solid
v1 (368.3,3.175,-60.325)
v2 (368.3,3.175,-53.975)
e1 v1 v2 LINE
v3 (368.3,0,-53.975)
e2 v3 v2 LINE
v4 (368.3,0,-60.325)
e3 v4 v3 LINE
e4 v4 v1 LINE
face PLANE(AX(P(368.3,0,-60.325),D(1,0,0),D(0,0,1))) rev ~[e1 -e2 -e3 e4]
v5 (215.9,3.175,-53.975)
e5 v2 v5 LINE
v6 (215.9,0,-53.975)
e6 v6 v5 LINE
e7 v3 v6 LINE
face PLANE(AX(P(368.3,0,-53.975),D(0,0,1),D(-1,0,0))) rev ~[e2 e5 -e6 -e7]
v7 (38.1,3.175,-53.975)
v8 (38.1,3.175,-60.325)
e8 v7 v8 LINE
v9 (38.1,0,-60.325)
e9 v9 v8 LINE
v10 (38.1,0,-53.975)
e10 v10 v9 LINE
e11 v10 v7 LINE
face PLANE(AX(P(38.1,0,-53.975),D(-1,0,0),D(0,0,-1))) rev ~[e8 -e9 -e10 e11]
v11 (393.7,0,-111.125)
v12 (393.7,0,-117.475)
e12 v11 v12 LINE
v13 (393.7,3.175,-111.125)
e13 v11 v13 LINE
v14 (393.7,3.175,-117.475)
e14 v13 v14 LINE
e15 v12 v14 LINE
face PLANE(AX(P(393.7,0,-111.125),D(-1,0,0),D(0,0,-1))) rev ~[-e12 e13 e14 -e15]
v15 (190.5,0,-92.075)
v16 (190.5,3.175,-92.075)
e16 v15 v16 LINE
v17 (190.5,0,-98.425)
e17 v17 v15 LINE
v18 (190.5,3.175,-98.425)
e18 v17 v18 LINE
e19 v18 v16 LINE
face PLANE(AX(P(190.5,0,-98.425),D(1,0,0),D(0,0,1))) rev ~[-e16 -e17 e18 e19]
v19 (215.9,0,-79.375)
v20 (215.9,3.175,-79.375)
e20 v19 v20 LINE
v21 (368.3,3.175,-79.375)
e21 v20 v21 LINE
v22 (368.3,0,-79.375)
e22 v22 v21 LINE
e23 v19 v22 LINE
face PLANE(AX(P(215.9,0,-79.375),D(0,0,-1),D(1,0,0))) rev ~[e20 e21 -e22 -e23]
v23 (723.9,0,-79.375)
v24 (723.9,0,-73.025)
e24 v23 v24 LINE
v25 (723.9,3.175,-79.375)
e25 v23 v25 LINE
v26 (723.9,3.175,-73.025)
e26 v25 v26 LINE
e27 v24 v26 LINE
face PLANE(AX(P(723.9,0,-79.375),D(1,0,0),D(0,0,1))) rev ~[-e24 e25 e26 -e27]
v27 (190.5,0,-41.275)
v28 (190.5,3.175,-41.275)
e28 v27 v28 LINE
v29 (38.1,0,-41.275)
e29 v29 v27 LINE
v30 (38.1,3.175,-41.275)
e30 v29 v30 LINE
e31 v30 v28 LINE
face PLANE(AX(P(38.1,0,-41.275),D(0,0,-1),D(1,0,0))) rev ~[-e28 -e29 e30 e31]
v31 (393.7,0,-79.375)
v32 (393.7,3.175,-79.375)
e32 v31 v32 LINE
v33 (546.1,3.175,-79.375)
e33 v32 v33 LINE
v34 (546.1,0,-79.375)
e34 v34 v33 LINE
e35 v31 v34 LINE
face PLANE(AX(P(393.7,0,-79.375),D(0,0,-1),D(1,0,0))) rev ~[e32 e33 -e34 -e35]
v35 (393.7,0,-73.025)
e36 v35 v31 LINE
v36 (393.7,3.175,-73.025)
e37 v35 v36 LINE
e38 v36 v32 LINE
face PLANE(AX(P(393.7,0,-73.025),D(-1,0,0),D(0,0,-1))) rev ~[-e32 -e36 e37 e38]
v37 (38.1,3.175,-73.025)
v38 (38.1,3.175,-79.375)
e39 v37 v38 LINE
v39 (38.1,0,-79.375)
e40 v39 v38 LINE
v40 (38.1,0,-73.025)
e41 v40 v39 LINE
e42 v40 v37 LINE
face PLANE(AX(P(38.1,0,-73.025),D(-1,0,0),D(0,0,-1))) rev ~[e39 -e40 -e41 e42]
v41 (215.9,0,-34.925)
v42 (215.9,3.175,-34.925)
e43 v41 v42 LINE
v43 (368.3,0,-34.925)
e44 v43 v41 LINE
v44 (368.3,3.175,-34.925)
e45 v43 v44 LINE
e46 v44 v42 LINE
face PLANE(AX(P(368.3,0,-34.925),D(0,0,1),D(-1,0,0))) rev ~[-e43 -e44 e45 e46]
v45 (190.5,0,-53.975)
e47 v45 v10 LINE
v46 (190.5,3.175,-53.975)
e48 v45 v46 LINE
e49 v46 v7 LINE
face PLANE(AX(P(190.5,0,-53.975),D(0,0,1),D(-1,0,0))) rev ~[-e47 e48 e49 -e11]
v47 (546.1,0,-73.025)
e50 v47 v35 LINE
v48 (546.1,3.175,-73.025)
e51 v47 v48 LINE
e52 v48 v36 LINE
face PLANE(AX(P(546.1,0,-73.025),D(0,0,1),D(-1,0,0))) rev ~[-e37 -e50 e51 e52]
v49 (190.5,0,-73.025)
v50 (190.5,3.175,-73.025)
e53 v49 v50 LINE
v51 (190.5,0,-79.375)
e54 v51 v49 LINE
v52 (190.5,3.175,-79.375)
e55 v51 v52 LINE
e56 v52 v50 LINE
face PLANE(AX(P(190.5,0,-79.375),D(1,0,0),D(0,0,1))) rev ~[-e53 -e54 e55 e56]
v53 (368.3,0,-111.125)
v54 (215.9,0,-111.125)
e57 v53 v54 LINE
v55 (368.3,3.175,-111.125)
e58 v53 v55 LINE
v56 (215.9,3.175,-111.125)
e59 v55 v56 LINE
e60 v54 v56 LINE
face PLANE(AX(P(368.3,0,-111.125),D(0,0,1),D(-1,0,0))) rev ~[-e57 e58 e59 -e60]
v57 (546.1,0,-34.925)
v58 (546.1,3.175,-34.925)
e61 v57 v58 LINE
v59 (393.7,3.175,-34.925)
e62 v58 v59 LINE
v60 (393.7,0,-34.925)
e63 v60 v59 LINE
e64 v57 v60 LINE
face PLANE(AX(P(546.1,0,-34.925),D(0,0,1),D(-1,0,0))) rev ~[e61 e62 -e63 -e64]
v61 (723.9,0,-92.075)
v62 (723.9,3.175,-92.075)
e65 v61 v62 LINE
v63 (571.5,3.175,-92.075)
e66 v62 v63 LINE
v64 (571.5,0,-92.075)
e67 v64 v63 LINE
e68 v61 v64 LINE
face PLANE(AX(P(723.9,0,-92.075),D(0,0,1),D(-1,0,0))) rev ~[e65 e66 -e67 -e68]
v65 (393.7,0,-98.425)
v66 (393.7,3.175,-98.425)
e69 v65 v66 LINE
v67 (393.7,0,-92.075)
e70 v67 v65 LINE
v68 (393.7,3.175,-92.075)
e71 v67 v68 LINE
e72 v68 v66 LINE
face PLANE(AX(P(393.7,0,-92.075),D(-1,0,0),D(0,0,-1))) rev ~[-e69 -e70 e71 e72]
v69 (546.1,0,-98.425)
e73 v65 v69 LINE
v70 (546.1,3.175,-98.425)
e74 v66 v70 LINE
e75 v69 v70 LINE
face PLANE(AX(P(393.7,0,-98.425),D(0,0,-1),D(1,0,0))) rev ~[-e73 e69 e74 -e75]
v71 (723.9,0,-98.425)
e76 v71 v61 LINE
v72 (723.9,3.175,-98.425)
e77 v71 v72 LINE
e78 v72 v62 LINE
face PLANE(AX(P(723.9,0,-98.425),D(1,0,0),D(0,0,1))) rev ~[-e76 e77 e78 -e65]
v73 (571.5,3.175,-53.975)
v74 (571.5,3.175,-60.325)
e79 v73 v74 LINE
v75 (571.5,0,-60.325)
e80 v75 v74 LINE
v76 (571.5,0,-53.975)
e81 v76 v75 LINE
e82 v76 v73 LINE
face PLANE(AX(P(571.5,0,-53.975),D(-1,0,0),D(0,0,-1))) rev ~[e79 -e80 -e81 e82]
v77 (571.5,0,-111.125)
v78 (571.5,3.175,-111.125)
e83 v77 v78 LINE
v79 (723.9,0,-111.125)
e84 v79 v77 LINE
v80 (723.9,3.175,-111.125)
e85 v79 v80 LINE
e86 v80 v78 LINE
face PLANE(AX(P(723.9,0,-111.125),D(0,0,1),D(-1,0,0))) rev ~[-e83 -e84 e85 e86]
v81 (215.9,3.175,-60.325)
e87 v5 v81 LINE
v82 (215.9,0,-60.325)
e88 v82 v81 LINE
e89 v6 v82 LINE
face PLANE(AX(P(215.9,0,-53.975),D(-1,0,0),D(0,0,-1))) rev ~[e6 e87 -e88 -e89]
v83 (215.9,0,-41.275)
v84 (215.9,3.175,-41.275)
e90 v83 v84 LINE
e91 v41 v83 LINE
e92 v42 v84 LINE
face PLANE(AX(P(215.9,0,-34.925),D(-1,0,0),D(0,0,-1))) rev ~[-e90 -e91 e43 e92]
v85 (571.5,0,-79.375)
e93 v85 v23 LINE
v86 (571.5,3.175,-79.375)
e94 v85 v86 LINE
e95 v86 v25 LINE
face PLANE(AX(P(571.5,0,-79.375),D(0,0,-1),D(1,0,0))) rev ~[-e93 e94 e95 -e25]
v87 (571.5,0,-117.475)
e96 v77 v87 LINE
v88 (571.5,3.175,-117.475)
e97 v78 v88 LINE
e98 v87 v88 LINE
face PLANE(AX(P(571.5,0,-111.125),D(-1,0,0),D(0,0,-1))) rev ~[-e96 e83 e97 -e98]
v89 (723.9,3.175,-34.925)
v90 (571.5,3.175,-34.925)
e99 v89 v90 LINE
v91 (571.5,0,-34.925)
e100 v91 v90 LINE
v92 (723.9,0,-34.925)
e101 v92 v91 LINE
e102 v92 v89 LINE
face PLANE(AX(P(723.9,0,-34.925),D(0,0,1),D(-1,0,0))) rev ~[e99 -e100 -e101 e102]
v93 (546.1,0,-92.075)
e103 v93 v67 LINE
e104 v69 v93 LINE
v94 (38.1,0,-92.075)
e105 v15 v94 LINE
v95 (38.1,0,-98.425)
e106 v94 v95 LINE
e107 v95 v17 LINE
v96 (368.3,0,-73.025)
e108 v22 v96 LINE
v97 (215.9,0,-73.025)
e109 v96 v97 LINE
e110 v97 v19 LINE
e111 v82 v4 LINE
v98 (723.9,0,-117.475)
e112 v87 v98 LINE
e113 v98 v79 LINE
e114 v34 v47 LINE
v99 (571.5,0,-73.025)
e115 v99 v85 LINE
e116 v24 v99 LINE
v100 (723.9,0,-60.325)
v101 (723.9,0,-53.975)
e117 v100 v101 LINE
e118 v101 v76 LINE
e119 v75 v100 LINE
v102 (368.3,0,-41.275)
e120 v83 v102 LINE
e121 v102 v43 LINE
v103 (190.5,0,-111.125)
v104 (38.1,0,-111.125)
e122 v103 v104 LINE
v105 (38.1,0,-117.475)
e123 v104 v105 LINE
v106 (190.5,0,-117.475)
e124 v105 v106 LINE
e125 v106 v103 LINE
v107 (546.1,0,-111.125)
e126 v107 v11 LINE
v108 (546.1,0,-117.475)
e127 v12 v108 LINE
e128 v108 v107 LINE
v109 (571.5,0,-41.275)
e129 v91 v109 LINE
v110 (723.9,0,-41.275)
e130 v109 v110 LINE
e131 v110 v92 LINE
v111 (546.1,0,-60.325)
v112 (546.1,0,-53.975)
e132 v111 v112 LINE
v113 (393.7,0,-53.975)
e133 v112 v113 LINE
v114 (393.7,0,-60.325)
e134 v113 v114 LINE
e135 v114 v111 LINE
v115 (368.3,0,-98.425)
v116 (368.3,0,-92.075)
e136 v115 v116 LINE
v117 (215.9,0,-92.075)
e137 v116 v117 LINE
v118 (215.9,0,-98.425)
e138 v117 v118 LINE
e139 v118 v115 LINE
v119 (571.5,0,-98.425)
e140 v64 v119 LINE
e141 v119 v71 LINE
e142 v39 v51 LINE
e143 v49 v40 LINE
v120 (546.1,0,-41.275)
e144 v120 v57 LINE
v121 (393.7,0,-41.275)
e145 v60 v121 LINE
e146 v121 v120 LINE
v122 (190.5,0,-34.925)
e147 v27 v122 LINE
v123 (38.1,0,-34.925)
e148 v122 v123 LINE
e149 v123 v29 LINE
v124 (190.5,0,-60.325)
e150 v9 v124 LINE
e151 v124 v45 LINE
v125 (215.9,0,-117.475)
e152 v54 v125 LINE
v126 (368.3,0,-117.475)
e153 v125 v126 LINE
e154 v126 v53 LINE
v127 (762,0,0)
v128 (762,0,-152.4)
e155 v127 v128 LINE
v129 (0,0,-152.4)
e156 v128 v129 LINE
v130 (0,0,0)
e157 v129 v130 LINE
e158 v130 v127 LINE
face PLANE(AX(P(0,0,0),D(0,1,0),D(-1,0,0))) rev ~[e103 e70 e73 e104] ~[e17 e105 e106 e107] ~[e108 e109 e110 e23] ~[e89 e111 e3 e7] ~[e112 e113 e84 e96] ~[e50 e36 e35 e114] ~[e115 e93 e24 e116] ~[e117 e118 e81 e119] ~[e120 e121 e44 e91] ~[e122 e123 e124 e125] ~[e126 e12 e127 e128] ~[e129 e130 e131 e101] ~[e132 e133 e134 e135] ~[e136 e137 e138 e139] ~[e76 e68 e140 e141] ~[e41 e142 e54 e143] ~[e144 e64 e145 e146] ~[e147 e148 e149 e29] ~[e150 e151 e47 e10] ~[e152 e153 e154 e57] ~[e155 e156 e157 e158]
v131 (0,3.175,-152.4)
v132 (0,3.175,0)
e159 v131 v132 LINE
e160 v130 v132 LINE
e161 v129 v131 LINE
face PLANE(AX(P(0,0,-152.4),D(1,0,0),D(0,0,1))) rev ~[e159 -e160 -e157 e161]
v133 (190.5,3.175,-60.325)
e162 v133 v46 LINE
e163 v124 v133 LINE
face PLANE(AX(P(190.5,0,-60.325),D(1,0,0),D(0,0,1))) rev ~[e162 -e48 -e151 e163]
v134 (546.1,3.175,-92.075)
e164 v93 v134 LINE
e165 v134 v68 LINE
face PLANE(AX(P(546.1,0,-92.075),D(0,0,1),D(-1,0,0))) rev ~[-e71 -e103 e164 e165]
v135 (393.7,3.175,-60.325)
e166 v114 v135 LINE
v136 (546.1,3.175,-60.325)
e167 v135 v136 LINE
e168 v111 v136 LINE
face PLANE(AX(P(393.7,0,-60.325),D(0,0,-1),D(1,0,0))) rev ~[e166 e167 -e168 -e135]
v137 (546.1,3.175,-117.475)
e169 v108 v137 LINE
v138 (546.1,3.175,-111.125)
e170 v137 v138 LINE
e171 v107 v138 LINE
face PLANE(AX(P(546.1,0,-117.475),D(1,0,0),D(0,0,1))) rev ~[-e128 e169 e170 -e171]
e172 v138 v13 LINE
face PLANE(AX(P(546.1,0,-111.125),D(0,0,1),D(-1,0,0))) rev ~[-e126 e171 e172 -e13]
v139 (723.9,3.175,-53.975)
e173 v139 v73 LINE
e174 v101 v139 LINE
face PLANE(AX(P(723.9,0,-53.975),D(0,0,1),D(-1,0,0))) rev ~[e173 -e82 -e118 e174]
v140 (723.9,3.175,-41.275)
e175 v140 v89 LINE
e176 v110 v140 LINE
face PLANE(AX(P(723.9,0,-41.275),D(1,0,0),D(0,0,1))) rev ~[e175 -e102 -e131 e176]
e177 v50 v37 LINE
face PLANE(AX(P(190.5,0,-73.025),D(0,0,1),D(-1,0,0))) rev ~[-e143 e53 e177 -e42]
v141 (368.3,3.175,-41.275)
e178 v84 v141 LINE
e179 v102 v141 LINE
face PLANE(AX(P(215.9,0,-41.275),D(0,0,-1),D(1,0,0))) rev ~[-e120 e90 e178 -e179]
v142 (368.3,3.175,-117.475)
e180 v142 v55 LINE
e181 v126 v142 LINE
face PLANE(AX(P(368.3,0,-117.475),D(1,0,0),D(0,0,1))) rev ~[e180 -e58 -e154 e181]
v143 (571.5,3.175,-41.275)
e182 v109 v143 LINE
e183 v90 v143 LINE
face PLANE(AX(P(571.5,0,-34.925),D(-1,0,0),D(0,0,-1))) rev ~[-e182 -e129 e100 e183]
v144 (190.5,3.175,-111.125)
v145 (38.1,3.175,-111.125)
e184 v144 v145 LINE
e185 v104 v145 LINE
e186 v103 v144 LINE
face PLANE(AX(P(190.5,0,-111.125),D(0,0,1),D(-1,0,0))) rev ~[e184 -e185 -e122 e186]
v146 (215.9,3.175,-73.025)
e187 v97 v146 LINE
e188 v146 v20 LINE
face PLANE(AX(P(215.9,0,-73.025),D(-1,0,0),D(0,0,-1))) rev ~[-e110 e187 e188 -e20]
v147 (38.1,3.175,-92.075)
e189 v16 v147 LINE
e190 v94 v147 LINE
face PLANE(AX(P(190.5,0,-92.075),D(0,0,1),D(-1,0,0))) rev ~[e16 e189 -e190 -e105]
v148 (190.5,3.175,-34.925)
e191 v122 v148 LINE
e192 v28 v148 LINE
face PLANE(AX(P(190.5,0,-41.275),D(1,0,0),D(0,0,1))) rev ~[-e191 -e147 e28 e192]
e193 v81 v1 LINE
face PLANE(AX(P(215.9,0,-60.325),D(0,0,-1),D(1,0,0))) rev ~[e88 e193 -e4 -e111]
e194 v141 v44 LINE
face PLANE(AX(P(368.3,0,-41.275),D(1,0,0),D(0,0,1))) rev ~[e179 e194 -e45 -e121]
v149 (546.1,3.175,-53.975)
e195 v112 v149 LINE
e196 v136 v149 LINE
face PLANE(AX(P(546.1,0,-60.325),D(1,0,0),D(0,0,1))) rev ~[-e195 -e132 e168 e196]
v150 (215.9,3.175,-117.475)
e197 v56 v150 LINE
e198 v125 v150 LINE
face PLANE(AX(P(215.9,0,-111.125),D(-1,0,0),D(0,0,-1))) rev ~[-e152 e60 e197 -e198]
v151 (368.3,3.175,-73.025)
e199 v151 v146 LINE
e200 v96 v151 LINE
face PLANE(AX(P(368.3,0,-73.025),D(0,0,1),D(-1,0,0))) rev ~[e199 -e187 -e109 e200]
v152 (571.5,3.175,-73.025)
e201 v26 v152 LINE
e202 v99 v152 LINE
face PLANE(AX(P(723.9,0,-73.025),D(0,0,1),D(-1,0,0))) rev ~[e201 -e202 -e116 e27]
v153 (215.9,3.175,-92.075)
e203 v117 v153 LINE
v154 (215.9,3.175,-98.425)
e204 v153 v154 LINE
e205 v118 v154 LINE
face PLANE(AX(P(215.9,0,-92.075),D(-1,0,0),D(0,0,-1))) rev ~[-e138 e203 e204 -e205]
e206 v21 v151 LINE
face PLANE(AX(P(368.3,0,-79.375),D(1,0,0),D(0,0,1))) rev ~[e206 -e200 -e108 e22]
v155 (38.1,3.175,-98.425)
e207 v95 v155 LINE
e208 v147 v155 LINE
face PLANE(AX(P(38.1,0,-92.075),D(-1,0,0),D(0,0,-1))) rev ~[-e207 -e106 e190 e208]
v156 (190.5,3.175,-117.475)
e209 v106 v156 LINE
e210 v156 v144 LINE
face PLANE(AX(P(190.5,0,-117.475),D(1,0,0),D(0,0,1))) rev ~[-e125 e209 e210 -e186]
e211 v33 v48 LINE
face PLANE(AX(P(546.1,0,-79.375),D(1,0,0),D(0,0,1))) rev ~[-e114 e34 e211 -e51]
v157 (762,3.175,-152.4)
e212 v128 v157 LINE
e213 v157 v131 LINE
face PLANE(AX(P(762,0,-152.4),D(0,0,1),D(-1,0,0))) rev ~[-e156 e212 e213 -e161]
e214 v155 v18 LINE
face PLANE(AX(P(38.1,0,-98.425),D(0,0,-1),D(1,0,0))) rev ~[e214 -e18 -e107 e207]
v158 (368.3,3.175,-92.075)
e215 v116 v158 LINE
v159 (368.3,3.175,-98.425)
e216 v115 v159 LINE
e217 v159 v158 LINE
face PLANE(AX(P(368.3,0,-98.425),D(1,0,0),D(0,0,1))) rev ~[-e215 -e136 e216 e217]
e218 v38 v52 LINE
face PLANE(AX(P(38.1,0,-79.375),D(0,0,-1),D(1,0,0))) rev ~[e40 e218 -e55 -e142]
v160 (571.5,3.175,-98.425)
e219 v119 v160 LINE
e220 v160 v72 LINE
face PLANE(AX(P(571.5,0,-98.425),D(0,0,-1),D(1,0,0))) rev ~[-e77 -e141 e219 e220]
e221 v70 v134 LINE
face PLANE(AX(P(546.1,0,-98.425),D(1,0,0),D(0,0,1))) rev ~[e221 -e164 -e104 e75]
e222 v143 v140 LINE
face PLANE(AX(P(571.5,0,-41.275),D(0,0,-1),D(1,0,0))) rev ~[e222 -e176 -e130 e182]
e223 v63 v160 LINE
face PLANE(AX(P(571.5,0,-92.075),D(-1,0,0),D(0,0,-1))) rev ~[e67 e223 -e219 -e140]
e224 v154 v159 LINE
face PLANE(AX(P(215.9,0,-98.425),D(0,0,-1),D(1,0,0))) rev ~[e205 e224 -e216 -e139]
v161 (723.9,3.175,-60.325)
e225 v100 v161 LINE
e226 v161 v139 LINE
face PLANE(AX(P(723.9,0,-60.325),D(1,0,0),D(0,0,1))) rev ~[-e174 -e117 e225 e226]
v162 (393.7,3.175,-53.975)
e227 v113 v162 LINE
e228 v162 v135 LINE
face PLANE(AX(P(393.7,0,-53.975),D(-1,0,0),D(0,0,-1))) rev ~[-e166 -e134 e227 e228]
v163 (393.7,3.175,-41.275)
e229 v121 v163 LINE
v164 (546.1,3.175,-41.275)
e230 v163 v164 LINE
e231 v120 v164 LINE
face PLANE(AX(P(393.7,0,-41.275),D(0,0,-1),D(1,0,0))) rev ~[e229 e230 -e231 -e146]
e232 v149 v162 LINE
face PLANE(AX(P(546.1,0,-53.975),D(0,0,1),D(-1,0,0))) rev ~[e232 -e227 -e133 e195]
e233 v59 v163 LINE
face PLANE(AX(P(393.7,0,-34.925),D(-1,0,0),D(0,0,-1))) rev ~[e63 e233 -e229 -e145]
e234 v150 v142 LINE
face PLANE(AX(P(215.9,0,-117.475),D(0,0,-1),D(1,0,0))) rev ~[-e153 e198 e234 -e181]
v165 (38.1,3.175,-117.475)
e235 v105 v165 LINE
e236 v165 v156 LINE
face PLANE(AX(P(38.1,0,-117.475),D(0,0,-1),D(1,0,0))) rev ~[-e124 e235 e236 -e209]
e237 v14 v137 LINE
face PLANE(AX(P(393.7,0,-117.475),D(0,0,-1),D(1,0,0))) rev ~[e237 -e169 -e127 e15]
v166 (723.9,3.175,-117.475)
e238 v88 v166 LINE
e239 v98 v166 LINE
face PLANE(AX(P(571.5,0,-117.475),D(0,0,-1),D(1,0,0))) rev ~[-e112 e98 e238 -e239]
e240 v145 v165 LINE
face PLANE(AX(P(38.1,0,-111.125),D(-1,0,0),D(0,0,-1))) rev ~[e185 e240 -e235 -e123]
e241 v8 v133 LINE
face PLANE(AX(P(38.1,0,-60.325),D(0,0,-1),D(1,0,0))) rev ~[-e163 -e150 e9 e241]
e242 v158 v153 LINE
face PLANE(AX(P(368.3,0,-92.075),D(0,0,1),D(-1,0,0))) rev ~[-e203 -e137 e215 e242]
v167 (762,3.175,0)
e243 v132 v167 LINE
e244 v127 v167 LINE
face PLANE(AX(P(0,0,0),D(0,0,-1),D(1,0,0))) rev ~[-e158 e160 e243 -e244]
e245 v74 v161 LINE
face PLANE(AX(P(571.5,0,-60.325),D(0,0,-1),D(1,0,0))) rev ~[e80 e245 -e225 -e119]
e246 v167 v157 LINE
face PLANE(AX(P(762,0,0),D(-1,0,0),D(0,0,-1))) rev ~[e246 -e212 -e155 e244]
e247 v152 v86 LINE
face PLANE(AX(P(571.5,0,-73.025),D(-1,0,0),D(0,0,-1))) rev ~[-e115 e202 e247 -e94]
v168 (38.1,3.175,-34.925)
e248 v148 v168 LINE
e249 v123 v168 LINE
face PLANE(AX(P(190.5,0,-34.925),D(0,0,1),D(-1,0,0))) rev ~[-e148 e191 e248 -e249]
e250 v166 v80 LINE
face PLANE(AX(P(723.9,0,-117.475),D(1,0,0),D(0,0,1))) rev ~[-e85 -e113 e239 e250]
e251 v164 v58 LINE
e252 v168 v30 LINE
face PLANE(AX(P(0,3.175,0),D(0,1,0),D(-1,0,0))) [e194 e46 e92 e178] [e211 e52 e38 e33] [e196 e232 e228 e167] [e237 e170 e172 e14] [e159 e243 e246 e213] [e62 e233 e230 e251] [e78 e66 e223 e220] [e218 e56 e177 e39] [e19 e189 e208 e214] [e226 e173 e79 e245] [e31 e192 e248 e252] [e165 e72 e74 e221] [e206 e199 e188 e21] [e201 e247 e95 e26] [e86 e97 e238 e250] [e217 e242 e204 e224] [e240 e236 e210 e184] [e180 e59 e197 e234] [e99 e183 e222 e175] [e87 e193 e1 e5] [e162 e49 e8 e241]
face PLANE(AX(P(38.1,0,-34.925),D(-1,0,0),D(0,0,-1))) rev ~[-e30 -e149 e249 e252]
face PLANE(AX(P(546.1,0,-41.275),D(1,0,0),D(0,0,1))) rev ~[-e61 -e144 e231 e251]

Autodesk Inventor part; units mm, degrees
ref_plane "YZ Plane" through (0, 0, 0) normal (1, 0, 0) x (0, 1, 0)
ref_plane "XZ Plane" through (0, 0, 0) normal (0, 1, 0) x (-1, 0, 0)
ref_plane "XY Plane" through (0, 0, 0) normal (0, 0, 1) x (1, 0, 0)
sketch "Sketch1" plane through (0, 0, 0) normal (0, 1, 0) x (-1, 0, 0)
  line L0 (0, 0) -> (-762, 0)
  line L1 (-762, 0) -> (-762, -152.4)
  line L2 (-762, -152.4) -> (0, -152.4)
  line L3 (0, -152.4) -> (0, 0)
  line L4 (-25.4, -25.4) -> (-736.6, -25.4)
  line L5 (-736.6, -25.4) -> (-736.6, -127)
  line L6 (-736.6, -127) -> (-25.4, -127)
  line L7 (-25.4, -127) -> (-25.4, -25.4)
  line L8 (-38.1, -117.475) -> (-190.5, -117.475)
  line L9 (-190.5, -117.475) -> (-190.5, -111.125)
  line L10 (-190.5, -111.125) -> (-38.1, -111.125)
  line L11 (-38.1, -111.125) -> (-38.1, -117.475)
  line L12 (-38.1, -98.425) -> (-190.5, -98.425)
  line L13 (-190.5, -98.425) -> (-190.5, -92.075)
  line L14 (-190.5, -92.075) -> (-38.1, -92.075)
  line L15 (-38.1, -92.075) -> (-38.1, -98.425)
  line L16 (-38.1, -79.375) -> (-190.5, -79.375)
  line L17 (-190.5, -79.375) -> (-190.5, -73.025)
  line L18 (-190.5, -73.025) -> (-38.1, -73.025)
  line L19 (-38.1, -73.025) -> (-38.1, -79.375)
  line L20 (-38.1, -60.325) -> (-190.5, -60.325)
  line L21 (-190.5, -60.325) -> (-190.5, -53.975)
  line L22 (-190.5, -53.975) -> (-38.1, -53.975)
  line L23 (-38.1, -53.975) -> (-38.1, -60.325)
  line L24 (-38.1, -41.275) -> (-190.5, -41.275)
  line L25 (-190.5, -41.275) -> (-190.5, -34.925)
  line L26 (-190.5, -34.925) -> (-38.1, -34.925)
  line L27 (-38.1, -34.925) -> (-38.1, -41.275)
  line L28 (-215.9, -117.475) -> (-368.3, -117.475)
  line L29 (-368.3, -117.475) -> (-368.3, -111.125)
  line L30 (-368.3, -111.125) -> (-215.9, -111.125)
  line L31 (-215.9, -111.125) -> (-215.9, -117.475)
  line L32 (-215.9, -92.075) -> (-215.9, -98.425)
  line L33 (-215.9, -98.425) -> (-368.3, -98.425)
  line L34 (-368.3, -98.425) -> (-368.3, -92.075)
  line L35 (-368.3, -92.075) -> (-215.9, -92.075)
  line L36 (-215.9, -73.025) -> (-215.9, -79.375)
  line L37 (-215.9, -79.375) -> (-368.3, -79.375)
  line L38 (-368.3, -79.375) -> (-368.3, -73.025)
  line L39 (-368.3, -73.025) -> (-215.9, -73.025)
  line L40 (-215.9, -53.975) -> (-215.9, -60.325)
  line L41 (-215.9, -60.325) -> (-368.3, -60.325)
  line L42 (-368.3, -60.325) -> (-368.3, -53.975)
  line L43 (-368.3, -53.975) -> (-215.9, -53.975)
  line L44 (-215.9, -34.925) -> (-215.9, -41.275)
  line L45 (-215.9, -41.275) -> (-368.3, -41.275)
  line L46 (-368.3, -41.275) -> (-368.3, -34.925)
  line L47 (-368.3, -34.925) -> (-215.9, -34.925)
  line L48 (-393.7, -117.475) -> (-546.1, -117.475)
  line L49 (-546.1, -117.475) -> (-546.1, -111.125)
  line L50 (-546.1, -111.125) -> (-393.7, -111.125)
  line L51 (-393.7, -111.125) -> (-393.7, -117.475)
  line L52 (-393.7, -92.075) -> (-393.7, -98.425)
  line L53 (-393.7, -98.425) -> (-546.1, -98.425)
  line L54 (-546.1, -98.425) -> (-546.1, -92.075)
  line L55 (-546.1, -92.075) -> (-393.7, -92.075)
  line L56 (-393.7, -73.025) -> (-393.7, -79.375)
  line L57 (-393.7, -79.375) -> (-546.1, -79.375)
  line L58 (-546.1, -79.375) -> (-546.1, -73.025)
  line L59 (-546.1, -73.025) -> (-393.7, -73.025)
  line L60 (-393.7, -53.975) -> (-393.7, -60.325)
  line L61 (-393.7, -60.325) -> (-546.1, -60.325)
  line L62 (-546.1, -60.325) -> (-546.1, -53.975)
  line L63 (-546.1, -53.975) -> (-393.7, -53.975)
  line L64 (-393.7, -34.925) -> (-393.7, -41.275)
  line L65 (-393.7, -41.275) -> (-546.1, -41.275)
  line L66 (-546.1, -41.275) -> (-546.1, -34.925)
  line L67 (-546.1, -34.925) -> (-393.7, -34.925)
  line L68 (-571.5, -117.475) -> (-723.9, -117.475)
  line L69 (-723.9, -117.475) -> (-723.9, -111.125)
  line L70 (-723.9, -111.125) -> (-571.5, -111.125)
  line L71 (-571.5, -111.125) -> (-571.5, -117.475)
  line L72 (-571.5, -92.075) -> (-571.5, -98.425)
  line L73 (-571.5, -98.425) -> (-723.9, -98.425)
  line L74 (-723.9, -98.425) -> (-723.9, -92.075)
  line L75 (-723.9, -92.075) -> (-571.5, -92.075)
  line L76 (-571.5, -73.025) -> (-571.5, -79.375)
  line L77 (-571.5, -79.375) -> (-723.9, -79.375)
  line L78 (-723.9, -79.375) -> (-723.9, -73.025)
  line L79 (-723.9, -73.025) -> (-571.5, -73.025)
  line L80 (-571.5, -53.975) -> (-571.5, -60.325)
  line L81 (-571.5, -60.325) -> (-723.9, -60.325)
  line L82 (-723.9, -60.325) -> (-723.9, -53.975)
  line L83 (-723.9, -53.975) -> (-571.5, -53.975)
  line L84 (-571.5, -34.925) -> (-571.5, -41.275)
  line L85 (-571.5, -41.275) -> (-723.9, -41.275)
  line L86 (-723.9, -41.275) -> (-723.9, -34.925)
  line L87 (-723.9, -34.925) -> (-571.5, -34.925)
  dimension "d0" = 762
  dimension "d1" = 152.4
  dimension "d2" = 25.4
  dimension "d3" = 25.4
  dimension "d4" = 25.4
  dimension "d5" = 25.4
  dimension "d6" = 6.35
  dimension "d7" = 12.7
  dimension "d8" = 9.525
  dimension "d9" = 152.4
  dimension "d10" = 6.35
  dimension "d11" = 152.4
  dimension "d12" = 6.35
  dimension "d13" = 152.4
  dimension "d14" = 6.35
  dimension "d15" = 152.4
  dimension "d16" = 6.35
  dimension "d17" = 152.4
  dimension "d18" = 12.7
  dimension "d19" = 12.7
  dimension "d20" = 12.7
  dimension "d21" = 12.7
  dimension "d22" = 12.7
  dimension "d23" = 12.7
  dimension "d24" = 12.7
  dimension "d25" = 12.7
  dimension "d26" = 6.35
  dimension "d27" = 152.4
  dimension "d28" = 6.35
  dimension "d29" = 152.4
  dimension "d30" = 6.35
  dimension "d31" = 152.4
  dimension "d32" = 6.35
  dimension "d33" = 152.4
  dimension "d34" = 6.35
  dimension "d35" = 152.4
  dimension "d36" = 12.7
  dimension "d37" = 12.7
  dimension "d38" = 12.7
  dimension "d39" = 12.7
  dimension "d40" = 6.35
  dimension "d41" = 152.4
  dimension "d42" = 6.35
  dimension "d43" = 152.4
  dimension "d44" = 6.35
  dimension "d45" = 152.4
  dimension "d46" = 6.35
  dimension "d47" = 152.4
  dimension "d48" = 6.35
  dimension "d49" = 152.4
  dimension "d50" = 12.7
  dimension "d51" = 12.7
  dimension "d52" = 12.7
  dimension "d53" = 12.7
  dimension "d54" = 6.35
  dimension "d55" = 152.4
  dimension "d56" = 6.35
  dimension "d57" = 152.4
  dimension "d58" = 6.35
  dimension "d59" = 152.4
  dimension "d60" = 6.35
  dimension "d61" = 152.4
  dimension "d62" = 6.35
  dimension "d63" = 152.4
extrude "Extrusion1" add sketch "Sketch1" along normal blind 3.175 contours L3 L2 L1 L0 | L7 L6 L5 L4
properties part number "28 inch grill"
